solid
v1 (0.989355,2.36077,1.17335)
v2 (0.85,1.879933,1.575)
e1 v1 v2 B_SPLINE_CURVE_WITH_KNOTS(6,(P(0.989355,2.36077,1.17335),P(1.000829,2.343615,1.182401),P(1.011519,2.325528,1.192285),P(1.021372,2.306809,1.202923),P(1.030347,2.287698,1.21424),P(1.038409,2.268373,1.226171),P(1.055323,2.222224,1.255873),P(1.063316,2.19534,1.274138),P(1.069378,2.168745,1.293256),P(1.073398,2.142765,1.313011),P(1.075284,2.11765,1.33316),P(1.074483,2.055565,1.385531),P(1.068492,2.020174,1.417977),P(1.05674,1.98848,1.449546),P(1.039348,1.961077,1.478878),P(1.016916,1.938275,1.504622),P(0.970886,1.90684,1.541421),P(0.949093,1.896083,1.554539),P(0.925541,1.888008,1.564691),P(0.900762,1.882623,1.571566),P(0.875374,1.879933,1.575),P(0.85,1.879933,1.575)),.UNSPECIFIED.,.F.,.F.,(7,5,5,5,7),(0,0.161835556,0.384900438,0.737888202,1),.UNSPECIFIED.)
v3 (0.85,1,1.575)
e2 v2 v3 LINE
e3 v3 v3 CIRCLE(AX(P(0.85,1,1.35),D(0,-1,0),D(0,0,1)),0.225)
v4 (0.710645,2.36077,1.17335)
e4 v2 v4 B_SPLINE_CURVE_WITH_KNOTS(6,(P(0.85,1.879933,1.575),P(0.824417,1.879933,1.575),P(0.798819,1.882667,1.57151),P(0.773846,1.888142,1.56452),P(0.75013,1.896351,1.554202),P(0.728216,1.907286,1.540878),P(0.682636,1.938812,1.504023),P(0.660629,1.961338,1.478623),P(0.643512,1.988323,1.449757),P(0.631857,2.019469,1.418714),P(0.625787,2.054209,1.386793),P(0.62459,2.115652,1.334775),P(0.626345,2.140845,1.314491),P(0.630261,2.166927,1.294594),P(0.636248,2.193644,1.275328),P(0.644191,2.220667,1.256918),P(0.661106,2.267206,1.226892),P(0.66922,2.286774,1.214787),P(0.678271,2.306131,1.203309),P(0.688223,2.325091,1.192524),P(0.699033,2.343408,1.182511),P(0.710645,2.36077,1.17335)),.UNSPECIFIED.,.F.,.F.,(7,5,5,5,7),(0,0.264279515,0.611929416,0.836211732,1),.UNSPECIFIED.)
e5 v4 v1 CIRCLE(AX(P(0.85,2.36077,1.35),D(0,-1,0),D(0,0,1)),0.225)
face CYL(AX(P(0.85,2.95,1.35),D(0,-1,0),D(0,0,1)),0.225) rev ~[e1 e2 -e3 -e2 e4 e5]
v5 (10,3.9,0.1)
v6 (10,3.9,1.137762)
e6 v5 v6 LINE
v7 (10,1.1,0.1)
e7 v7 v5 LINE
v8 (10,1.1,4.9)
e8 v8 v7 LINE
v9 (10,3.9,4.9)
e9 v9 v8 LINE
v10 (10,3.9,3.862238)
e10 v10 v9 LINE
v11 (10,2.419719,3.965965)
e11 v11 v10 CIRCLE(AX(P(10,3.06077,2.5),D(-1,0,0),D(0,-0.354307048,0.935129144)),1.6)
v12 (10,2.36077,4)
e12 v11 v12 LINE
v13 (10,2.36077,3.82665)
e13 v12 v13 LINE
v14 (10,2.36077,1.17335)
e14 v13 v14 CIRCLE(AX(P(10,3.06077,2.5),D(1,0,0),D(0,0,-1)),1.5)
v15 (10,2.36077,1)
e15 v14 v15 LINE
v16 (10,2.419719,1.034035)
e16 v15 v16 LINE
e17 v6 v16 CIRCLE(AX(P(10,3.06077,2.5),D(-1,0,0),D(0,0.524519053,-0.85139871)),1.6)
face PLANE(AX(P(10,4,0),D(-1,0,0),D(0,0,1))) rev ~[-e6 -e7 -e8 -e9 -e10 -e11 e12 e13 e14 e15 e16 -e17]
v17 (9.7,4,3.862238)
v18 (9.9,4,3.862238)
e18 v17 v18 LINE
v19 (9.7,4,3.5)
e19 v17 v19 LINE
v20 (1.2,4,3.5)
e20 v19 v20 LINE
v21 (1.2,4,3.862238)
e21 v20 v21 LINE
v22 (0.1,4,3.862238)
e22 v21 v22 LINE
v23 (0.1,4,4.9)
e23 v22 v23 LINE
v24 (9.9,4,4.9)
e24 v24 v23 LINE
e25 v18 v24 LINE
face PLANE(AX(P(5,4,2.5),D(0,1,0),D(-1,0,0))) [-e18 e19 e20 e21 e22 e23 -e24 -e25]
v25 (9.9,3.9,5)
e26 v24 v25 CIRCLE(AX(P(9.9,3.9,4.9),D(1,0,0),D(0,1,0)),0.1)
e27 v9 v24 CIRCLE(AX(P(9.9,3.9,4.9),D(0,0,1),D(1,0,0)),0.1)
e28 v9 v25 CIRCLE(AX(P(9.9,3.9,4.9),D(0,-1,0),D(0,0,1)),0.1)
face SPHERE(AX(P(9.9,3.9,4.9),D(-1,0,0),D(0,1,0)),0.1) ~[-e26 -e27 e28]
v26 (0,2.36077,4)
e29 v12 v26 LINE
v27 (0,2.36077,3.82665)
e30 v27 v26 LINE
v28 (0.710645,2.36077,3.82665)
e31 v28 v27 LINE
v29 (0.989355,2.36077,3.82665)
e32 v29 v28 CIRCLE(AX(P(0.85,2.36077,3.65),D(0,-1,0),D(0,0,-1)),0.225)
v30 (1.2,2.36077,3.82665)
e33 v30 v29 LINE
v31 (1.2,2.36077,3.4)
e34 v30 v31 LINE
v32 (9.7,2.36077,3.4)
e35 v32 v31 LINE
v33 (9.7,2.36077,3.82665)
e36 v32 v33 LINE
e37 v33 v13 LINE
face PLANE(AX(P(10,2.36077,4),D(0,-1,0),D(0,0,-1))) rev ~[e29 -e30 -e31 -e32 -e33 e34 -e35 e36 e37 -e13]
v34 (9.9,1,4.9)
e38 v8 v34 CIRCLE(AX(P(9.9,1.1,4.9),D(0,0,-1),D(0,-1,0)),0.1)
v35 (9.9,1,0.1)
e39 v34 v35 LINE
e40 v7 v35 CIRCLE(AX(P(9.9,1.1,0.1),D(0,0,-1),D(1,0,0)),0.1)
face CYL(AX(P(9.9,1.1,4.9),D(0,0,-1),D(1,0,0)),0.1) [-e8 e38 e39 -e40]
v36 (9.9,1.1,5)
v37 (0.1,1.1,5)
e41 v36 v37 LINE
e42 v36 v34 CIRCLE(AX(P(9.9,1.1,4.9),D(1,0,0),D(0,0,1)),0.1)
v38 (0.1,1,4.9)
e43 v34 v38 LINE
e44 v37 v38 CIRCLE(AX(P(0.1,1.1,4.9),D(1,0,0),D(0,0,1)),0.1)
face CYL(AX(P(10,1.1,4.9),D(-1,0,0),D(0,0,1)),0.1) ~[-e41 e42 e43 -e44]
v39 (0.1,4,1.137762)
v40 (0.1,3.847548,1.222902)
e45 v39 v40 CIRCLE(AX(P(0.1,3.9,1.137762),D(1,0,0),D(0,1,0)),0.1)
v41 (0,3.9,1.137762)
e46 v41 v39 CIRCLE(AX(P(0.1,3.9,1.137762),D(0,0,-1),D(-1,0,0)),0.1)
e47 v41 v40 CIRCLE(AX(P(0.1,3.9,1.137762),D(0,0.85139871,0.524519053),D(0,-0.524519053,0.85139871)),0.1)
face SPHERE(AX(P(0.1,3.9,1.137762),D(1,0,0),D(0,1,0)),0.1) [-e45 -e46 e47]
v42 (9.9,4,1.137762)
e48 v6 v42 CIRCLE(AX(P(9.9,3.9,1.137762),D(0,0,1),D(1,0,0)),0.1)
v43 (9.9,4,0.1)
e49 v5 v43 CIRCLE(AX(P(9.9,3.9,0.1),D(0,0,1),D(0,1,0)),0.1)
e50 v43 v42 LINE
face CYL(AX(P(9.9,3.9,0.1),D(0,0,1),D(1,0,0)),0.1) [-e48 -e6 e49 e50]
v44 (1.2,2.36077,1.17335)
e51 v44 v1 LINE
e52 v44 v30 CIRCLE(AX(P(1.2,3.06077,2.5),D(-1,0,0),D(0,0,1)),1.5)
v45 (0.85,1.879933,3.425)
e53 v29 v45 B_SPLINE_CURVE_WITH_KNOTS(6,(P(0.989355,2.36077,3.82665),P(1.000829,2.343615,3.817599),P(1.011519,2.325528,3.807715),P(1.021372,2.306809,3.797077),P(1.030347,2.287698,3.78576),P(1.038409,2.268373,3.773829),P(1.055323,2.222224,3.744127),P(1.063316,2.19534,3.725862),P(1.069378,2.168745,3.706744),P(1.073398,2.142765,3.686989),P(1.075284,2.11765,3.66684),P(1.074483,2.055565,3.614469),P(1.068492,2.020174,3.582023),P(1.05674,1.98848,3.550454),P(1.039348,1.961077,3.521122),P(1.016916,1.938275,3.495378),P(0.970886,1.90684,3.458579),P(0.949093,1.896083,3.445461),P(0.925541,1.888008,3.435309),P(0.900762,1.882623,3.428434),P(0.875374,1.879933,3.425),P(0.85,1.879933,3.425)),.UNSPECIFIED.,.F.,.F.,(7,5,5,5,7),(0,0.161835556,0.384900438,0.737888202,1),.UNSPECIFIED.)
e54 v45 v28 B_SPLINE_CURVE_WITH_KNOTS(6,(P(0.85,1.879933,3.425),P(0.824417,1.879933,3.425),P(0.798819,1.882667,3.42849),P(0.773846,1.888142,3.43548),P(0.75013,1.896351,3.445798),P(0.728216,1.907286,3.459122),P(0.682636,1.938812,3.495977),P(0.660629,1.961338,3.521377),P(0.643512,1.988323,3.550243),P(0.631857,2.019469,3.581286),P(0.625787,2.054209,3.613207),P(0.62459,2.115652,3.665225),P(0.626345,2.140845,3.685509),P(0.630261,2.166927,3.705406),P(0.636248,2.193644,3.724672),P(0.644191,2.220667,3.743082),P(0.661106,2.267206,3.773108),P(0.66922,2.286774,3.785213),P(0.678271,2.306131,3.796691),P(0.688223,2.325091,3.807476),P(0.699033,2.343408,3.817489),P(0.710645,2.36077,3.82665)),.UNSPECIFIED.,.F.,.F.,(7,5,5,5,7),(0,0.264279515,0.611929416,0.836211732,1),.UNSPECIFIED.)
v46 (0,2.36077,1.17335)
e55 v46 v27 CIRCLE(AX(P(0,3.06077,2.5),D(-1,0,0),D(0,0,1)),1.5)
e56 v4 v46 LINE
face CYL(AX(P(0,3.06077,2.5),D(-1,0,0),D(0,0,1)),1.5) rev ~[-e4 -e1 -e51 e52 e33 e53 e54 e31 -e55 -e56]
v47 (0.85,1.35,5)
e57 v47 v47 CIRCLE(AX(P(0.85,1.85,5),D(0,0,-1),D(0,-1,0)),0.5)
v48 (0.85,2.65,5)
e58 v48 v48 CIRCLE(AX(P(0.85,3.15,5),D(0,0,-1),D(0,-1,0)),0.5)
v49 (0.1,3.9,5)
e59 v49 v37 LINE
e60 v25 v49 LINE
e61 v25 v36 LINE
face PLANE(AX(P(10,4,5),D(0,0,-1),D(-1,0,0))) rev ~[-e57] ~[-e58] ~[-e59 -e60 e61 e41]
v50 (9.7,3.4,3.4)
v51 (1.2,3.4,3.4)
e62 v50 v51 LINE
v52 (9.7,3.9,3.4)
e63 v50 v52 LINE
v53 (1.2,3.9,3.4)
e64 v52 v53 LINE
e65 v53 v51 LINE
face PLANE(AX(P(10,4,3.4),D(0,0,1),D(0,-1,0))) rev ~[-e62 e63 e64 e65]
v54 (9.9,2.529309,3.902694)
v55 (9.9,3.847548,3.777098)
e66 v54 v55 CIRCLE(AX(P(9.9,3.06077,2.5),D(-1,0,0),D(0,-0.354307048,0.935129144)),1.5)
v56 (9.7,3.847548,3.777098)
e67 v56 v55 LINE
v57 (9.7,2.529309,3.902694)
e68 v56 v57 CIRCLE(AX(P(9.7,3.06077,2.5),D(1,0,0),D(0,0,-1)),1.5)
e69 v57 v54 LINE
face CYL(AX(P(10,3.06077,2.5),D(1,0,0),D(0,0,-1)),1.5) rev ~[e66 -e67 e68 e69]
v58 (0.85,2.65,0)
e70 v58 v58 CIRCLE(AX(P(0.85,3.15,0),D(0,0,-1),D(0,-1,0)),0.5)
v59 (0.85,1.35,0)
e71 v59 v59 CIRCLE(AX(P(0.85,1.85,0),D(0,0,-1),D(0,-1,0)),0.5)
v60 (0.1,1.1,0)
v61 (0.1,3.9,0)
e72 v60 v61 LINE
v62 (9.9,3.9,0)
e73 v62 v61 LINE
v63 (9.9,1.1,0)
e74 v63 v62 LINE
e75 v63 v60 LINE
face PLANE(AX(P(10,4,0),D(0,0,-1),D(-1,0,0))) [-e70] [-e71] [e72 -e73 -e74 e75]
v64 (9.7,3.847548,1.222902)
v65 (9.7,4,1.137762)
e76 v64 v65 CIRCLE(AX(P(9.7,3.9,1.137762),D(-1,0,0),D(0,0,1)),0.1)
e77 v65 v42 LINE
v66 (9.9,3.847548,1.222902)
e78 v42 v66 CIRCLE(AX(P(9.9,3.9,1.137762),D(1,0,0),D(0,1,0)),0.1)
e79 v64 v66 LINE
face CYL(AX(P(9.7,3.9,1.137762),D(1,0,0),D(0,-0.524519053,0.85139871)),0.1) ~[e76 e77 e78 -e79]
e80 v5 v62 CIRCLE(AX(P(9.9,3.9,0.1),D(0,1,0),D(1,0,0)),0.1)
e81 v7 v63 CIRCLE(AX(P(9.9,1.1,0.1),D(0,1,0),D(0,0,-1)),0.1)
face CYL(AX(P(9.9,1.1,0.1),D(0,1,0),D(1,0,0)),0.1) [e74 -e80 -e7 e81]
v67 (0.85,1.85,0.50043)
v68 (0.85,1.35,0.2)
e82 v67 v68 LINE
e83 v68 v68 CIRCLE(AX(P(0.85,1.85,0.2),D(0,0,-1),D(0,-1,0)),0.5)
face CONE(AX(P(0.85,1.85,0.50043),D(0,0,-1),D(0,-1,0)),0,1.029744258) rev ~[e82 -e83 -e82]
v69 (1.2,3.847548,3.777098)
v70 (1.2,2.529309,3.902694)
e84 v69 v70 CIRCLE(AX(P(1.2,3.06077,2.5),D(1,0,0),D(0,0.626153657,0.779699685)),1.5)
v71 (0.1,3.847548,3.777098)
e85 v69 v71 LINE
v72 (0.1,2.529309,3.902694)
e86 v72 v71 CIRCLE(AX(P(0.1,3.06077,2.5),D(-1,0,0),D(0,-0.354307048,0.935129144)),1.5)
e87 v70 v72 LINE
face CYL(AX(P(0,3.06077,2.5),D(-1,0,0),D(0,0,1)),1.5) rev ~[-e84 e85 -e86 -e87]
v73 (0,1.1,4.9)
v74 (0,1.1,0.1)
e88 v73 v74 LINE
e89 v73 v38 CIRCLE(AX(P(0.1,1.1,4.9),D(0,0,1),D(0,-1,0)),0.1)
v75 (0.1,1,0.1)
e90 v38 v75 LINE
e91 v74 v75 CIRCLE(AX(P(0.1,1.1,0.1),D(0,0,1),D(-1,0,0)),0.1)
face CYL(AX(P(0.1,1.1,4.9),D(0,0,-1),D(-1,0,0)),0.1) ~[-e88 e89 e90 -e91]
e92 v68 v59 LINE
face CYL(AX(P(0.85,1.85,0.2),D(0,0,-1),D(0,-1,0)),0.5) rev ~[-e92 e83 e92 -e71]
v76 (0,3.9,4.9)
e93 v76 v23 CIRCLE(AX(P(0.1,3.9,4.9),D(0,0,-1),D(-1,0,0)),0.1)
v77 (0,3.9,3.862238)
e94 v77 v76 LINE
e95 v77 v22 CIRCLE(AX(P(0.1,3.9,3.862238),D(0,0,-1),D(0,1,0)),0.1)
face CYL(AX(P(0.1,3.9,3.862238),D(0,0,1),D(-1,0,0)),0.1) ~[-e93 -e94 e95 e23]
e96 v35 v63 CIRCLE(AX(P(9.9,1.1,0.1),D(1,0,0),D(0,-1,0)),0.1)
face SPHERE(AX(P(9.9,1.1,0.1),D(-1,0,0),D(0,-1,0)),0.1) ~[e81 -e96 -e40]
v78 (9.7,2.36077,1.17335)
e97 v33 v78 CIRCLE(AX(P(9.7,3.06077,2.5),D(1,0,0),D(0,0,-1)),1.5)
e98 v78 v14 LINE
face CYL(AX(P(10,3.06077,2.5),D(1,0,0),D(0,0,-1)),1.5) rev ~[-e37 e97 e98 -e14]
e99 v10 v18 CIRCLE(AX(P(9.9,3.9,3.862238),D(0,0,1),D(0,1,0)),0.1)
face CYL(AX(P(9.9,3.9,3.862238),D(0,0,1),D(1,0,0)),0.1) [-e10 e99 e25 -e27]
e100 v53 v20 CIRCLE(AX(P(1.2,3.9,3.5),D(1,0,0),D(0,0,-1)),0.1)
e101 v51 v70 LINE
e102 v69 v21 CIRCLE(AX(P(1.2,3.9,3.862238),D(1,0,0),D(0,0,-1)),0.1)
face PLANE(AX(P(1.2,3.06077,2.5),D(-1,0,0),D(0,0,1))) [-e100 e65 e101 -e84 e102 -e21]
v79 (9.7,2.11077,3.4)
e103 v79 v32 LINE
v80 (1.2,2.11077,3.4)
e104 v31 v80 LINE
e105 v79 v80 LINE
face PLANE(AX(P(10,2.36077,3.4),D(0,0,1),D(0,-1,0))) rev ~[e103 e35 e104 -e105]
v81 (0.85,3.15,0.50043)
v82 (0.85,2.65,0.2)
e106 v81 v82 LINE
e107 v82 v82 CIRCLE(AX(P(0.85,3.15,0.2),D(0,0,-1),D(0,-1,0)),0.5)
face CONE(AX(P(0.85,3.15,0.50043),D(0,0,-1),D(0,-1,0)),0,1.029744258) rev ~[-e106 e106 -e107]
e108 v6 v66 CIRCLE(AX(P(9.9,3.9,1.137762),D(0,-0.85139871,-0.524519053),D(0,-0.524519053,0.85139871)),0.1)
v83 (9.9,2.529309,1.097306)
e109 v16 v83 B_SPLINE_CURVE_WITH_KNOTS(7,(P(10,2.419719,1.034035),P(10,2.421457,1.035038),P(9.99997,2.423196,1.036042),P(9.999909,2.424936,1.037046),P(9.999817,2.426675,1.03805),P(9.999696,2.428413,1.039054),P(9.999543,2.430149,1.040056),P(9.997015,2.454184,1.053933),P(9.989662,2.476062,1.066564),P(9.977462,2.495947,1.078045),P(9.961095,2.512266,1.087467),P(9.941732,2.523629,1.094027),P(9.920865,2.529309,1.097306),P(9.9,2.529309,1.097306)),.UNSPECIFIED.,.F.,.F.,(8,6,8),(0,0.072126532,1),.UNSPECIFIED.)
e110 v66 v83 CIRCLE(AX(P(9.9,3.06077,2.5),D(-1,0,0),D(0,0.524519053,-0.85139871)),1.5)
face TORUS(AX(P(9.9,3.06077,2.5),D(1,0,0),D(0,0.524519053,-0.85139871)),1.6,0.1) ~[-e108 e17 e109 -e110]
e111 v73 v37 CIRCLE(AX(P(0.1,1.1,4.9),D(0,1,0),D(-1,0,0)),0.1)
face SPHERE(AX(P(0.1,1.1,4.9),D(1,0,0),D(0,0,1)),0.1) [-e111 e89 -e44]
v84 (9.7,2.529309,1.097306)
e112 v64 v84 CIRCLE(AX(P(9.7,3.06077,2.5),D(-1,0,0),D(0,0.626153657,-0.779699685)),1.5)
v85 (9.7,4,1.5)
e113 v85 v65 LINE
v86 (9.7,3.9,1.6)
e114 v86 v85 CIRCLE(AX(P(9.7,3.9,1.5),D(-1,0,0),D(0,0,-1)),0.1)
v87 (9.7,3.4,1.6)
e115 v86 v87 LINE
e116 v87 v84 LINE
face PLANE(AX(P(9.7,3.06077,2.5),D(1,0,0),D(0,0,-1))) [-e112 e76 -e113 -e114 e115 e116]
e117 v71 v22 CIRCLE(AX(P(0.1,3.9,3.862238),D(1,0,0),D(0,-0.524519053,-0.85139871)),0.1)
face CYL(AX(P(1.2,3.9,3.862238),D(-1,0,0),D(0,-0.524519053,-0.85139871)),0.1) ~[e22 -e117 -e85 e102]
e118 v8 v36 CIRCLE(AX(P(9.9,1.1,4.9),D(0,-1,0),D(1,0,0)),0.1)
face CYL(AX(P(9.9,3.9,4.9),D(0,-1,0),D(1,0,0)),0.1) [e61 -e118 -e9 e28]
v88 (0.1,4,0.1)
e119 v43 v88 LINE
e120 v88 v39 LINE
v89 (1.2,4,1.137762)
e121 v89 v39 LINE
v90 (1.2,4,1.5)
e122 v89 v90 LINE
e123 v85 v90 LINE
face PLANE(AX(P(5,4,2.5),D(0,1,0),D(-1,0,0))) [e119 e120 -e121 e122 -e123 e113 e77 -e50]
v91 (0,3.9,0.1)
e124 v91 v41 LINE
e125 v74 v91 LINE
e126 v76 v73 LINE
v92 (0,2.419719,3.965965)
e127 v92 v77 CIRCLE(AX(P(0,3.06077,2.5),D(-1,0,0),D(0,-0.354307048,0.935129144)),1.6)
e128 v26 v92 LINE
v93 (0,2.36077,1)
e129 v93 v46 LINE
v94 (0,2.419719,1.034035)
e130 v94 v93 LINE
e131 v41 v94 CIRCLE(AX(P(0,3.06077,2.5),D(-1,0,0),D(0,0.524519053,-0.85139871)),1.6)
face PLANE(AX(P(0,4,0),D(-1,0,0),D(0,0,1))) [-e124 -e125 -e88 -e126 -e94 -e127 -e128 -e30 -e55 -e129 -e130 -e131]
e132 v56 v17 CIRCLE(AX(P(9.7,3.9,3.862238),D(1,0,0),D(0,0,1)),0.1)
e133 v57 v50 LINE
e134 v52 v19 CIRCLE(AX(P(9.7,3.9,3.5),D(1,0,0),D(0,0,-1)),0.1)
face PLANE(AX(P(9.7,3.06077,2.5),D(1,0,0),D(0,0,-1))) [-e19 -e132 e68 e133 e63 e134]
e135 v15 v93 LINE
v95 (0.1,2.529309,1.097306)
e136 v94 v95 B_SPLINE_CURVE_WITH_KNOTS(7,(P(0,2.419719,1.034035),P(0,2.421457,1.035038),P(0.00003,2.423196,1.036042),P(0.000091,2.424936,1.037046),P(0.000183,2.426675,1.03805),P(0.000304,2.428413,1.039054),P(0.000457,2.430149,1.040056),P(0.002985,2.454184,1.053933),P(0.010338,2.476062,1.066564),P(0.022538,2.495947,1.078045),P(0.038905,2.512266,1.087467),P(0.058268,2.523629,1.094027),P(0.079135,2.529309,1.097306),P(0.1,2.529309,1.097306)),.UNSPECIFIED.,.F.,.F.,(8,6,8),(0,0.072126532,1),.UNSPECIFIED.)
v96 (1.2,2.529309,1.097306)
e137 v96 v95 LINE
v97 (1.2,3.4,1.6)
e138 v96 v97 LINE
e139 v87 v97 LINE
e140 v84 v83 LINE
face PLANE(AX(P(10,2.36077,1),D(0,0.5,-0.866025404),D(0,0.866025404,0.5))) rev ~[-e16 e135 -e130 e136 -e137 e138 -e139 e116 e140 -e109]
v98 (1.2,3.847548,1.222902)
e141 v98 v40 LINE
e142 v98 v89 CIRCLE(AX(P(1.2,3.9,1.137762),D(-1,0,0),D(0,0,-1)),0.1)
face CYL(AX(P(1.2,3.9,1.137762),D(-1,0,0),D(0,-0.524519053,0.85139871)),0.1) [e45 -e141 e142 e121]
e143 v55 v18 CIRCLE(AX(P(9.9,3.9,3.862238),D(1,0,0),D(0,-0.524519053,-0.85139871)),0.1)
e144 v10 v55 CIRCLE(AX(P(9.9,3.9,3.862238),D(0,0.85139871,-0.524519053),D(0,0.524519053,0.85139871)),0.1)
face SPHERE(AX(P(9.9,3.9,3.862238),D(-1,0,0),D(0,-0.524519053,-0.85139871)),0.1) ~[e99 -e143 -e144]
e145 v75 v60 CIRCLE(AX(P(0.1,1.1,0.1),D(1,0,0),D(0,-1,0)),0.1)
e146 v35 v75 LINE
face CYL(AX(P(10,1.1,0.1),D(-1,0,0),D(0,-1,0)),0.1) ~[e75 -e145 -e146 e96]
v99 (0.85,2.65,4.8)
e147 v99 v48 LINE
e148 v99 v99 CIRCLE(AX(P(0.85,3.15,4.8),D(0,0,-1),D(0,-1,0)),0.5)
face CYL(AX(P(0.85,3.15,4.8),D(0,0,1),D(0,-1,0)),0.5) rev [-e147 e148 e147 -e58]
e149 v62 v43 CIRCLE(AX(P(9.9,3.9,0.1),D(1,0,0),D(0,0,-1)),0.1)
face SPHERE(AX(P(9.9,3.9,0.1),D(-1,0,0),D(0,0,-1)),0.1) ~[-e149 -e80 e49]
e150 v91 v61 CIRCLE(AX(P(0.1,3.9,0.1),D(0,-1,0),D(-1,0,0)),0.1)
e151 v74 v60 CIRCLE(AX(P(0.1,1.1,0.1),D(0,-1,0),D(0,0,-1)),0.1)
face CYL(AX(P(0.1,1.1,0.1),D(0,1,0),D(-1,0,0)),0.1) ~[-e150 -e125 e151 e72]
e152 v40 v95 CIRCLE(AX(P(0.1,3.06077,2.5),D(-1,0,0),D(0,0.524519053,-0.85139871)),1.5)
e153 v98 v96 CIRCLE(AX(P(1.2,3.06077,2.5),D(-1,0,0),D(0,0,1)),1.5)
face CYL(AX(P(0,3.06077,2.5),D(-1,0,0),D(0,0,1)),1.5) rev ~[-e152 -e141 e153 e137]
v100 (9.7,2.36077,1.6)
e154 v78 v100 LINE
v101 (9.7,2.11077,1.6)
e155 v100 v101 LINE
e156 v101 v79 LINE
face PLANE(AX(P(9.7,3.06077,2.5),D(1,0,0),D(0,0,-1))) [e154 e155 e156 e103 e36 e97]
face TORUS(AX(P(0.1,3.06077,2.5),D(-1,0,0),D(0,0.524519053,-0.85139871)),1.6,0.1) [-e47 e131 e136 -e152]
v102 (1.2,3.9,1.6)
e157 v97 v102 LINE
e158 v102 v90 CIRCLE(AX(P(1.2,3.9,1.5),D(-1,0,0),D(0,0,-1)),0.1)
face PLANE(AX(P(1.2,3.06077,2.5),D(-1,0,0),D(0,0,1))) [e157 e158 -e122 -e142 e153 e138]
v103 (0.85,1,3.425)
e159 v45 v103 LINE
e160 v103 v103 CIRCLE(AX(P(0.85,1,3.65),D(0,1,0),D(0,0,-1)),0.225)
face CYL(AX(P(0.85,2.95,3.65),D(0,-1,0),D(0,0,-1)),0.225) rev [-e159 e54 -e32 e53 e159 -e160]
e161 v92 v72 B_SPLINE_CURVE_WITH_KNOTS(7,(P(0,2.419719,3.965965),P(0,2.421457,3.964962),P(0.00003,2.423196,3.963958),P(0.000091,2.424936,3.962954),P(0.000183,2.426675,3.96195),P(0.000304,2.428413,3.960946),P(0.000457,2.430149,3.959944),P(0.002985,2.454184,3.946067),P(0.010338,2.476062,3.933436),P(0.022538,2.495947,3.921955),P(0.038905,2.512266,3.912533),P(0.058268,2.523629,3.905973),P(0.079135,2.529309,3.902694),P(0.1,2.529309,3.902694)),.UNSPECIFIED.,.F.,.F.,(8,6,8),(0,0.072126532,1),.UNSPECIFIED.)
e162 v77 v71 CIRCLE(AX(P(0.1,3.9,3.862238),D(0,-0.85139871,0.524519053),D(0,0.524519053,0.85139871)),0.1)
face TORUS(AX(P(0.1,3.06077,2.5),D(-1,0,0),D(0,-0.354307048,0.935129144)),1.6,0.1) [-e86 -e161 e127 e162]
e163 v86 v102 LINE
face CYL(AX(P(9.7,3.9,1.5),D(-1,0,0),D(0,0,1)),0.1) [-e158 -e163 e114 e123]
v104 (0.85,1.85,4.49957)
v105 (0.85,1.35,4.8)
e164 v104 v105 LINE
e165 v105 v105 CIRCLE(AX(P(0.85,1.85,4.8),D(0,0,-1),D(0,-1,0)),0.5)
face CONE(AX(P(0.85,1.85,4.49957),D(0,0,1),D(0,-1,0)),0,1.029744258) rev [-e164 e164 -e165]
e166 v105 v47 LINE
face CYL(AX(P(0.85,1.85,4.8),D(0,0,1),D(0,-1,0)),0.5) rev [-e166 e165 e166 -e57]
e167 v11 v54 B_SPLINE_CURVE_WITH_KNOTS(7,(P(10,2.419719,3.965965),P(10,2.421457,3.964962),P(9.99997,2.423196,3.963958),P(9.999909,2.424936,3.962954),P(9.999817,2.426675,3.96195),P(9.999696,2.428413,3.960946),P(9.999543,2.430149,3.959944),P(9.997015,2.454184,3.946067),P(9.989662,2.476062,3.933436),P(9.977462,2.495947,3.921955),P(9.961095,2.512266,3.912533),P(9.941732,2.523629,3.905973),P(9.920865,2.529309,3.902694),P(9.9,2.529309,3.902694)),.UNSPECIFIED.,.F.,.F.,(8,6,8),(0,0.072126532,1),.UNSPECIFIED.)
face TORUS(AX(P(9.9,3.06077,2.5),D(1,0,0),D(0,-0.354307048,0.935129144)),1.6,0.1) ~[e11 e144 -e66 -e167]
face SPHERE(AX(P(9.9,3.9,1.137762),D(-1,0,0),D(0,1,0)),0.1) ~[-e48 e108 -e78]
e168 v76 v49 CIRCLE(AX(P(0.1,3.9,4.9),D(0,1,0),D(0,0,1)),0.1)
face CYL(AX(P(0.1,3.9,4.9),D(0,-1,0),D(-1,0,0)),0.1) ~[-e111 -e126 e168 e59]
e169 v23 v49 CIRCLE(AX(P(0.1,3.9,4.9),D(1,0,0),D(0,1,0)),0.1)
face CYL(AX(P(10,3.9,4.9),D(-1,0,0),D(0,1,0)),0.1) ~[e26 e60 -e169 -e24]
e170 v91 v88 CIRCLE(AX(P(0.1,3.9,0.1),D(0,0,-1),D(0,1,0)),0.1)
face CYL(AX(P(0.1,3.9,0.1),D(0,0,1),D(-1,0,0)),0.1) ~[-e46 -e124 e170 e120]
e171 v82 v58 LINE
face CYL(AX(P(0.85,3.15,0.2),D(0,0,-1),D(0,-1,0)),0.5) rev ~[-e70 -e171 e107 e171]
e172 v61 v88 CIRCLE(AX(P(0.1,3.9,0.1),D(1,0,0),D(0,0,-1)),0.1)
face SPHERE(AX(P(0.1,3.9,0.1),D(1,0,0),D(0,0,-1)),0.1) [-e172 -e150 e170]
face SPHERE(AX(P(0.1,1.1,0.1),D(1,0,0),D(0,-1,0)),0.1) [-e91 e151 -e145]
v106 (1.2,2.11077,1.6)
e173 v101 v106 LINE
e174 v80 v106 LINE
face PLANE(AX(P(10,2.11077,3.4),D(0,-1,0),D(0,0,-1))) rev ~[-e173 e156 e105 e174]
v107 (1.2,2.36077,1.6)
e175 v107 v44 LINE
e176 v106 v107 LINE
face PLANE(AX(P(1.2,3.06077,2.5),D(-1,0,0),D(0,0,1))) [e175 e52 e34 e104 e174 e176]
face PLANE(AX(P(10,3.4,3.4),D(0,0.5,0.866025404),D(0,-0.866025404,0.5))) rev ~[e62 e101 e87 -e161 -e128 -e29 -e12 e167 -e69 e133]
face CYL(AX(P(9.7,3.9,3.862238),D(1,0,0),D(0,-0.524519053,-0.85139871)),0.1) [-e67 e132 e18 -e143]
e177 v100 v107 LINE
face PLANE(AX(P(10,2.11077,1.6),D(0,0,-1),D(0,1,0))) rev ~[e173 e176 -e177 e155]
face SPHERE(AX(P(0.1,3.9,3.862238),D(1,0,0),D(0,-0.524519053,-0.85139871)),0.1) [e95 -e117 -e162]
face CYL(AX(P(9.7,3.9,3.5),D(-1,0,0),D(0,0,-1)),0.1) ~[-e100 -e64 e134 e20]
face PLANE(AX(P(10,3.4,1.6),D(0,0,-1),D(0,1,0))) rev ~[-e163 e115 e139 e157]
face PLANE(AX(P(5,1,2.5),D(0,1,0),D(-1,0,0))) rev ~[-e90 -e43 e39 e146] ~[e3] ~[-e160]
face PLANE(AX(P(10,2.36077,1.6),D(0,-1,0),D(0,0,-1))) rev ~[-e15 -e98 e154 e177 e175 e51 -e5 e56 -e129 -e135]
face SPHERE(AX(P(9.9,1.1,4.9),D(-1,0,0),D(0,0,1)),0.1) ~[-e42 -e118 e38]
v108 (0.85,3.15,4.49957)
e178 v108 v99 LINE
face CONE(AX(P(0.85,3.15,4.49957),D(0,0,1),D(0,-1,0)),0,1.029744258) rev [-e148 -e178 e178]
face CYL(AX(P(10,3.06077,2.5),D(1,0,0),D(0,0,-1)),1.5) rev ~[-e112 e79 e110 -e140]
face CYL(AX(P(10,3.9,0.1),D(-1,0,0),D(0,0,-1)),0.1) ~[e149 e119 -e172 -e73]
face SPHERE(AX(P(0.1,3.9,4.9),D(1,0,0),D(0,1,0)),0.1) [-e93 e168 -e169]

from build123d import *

# Parameters (mm, degrees)
SKETCH1_W                      = 10
SKETCH1_H                      = 5
BOSS_EXTRUDE1_DEPTH            = 3
CUT_EXTRUDE9_DEPTH             = 11
SKETCH20_R                     = 1.5
CUT_EXTRUDE11_DEPTH            = 1.2
SKETCH22_R                     = 1.5
SKETCH22_R_2                   = 0.55
CUT_EXTRUDE12_DEPTH            = 0.3
FILLET1_R                      = 0.1
FILLET2_R                      = 0.1
F_1_0MM_DOWEL_HOLE1_AT_2_COUNT = 2
F_1_0MM_DOWEL_HOLE1_AT_2_PITCH = 1.3


with BuildPart() as part:
    # Sketch1 → Boss-Extrude1 (new body)
    with BuildSketch(Plane(origin=(0, 4, 0), x_dir=(-1, 0, 0), z_dir=(0, 1, 0))):
        with Locations((-5, 2.5)):
            Rectangle(SKETCH1_W, SKETCH1_H)
    extrude(amount=-BOSS_EXTRUDE1_DEPTH)

    # Sketch18 → Cut-Extrude9 (cut, through all)
    with BuildSketch(Plane(origin=(10, 0, 0), x_dir=(0, 0, -1), z_dir=(1, 0, 0))):
        Polygon((-3.4, 3.4), (-4, 2.360769515), (-3.4, 2.360769515), (-3.4, 2.110769515), (-1.6, 2.110769515), (-1.6, 2.360769515), (-1, 2.360769515), (-1.6, 3.4), (-1.6, 4), (-3.4, 4), align=None)
    extrude(amount=-CUT_EXTRUDE9_DEPTH, mode=Mode.SUBTRACT)

    # Sketch20 → Cut-Extrude11 (cut)
    with BuildSketch(Plane.ZY):
        with Locations((2.5, 3.060769515)):
            Circle(SKETCH20_R)
    extrude(amount=-CUT_EXTRUDE11_DEPTH, mode=Mode.SUBTRACT)

    # Sketch22 → Cut-Extrude12 (cut)
    with BuildSketch(Plane(origin=(10, 0, 0), x_dir=(0, 0, -1), z_dir=(1, 0, 0))):
        with Locations((-2.5, 3.060769515)):
            Circle(SKETCH22_R)
        with Locations((-2.5, 3.060769515)):
            Circle(SKETCH22_R_2, mode=Mode.SUBTRACT)
    extrude(amount=-CUT_EXTRUDE12_DEPTH, mode=Mode.SUBTRACT)

    # Fillet1
    fillet1_edges = [part.edges().sort_by_distance(p)[0] for p in [
        (5, 1, 5),
        (5, 1, 0),
        (5, 4, 5),
        (5.45, 4, 1.6),
        (5.45, 4, 3.4),
        (5, 4, 0),
        (0.6, 4, 3.669549527),
        (0.6, 4, 1.330450473),
        (9.85, 4, 3.669549527),
        (9.85, 4, 1.330450473),
    ]]
    fillet(fillet1_edges, radius=FILLET1_R)

    # Fillet2
    fillet2_edges = [part.edges().sort_by_distance(p)[0] for p in [
        (10, 3.203038233, 1.006762038),
        (10, 3.203038233, 3.993237962),
        (10, 4, 4.381118968),
        (10, 2.5, 5),
        (10, 1, 2.5),
        (10, 2.5, 0),
        (10, 4, 0.618881032),
        (10, 3.970710678, 4.970710678),
        (10, 3.970710678, 0.029289322),
        (10, 1.029289322, 0.029289322),
        (10, 1.029289322, 4.970710678),
        (10, 3.948758638, 1.22506954),
        (10, 3.948758638, 3.77493046),
        (0, 4, 4.381118968),
        (0, 4, 0.618881032),
        (0, 3.203038233, 1.006762038),
        (0, 2.5, 0),
        (0, 1, 2.5),
        (0, 2.5, 5),
        (0, 3.970710678, 4.970710678),
        (0, 3.970710678, 0.029289322),
        (0, 1.029289322, 0.029289322),
        (0, 1.029289322, 4.970710678),
        (0, 3.948758638, 1.22506954),
        (0, 3.948758638, 3.77493046),
        (0, 3.203038233, 3.993237962),
    ]]
    fillet(fillet2_edges, radius=FILLET2_R)

    # Sketch26 → Ø1.0mm Dowel Hole1 (revolve, cut)
    with BuildSketch(Plane(origin=(0.85, 3.15, 5), x_dir=(0, -1, 0), z_dir=(1, 0, 0))):
        Polygon((0, 0), (0, 0.50043031), (0.5, 0.2), (0.5, 0), align=None)
    f_1_0mm_dowel_hole1 = revolve(axis=Axis((0.85, 3.15, 11.35), (0, 0, -1)), mode=Mode.SUBTRACT)

    # Ø1.0mm Dowel Hole1 at 2: Ø1.0mm Dowel Hole1 ×2
    with Locations(*[(0, -i * F_1_0MM_DOWEL_HOLE1_AT_2_PITCH, 0) for i in range(1, F_1_0MM_DOWEL_HOLE1_AT_2_COUNT)]):
        add(f_1_0mm_dowel_hole1, mode=Mode.SUBTRACT)

    # Sketch28 → UNM0.6 Tapped Hole1 (revolve, cut)
    with BuildSketch(Plane(origin=(0.85, 1, 3.65), x_dir=(0, 0, -1), z_dir=(1, 0, 0))):
        Polygon((0, 0), (0, 2.085193639), (0.225, 1.95), (0.225, 0), align=None)
    unm0_6_tapped_hole1 = revolve(axis=Axis((0.85, -5.35, 3.65), (0, 1, 0)), mode=Mode.SUBTRACT)

    # Mirror1: Ø1.0mm Dowel Hole1, UNM0.6 Tapped Hole1 across plane
    add(f_1_0mm_dowel_hole1.mirror(Plane(origin=(0, 0, 2.5), x_dir=(1, 0, 0), z_dir=(0, 0, -1))), mode=Mode.SUBTRACT)
    add(unm0_6_tapped_hole1.mirror(Plane(origin=(0, 0, 2.5), x_dir=(1, 0, 0), z_dir=(0, 0, -1))), mode=Mode.SUBTRACT)

    # Mirror1 copy 1 sketch → Mirror1 copy 1 (revolve, cut)
    with BuildSketch(Plane(origin=(0.85, 1.85, 0), x_dir=(0, -1, 0), z_dir=(1, 0, 0))):
        Polygon((0, 0), (0, -0.50043031), (0.5, -0.2), (0.5, 0), align=None)
    revolve(axis=Axis((0.85, 1.85, -6.35), (0, 0, -1)), mode=Mode.SUBTRACT)


solid = part.part
